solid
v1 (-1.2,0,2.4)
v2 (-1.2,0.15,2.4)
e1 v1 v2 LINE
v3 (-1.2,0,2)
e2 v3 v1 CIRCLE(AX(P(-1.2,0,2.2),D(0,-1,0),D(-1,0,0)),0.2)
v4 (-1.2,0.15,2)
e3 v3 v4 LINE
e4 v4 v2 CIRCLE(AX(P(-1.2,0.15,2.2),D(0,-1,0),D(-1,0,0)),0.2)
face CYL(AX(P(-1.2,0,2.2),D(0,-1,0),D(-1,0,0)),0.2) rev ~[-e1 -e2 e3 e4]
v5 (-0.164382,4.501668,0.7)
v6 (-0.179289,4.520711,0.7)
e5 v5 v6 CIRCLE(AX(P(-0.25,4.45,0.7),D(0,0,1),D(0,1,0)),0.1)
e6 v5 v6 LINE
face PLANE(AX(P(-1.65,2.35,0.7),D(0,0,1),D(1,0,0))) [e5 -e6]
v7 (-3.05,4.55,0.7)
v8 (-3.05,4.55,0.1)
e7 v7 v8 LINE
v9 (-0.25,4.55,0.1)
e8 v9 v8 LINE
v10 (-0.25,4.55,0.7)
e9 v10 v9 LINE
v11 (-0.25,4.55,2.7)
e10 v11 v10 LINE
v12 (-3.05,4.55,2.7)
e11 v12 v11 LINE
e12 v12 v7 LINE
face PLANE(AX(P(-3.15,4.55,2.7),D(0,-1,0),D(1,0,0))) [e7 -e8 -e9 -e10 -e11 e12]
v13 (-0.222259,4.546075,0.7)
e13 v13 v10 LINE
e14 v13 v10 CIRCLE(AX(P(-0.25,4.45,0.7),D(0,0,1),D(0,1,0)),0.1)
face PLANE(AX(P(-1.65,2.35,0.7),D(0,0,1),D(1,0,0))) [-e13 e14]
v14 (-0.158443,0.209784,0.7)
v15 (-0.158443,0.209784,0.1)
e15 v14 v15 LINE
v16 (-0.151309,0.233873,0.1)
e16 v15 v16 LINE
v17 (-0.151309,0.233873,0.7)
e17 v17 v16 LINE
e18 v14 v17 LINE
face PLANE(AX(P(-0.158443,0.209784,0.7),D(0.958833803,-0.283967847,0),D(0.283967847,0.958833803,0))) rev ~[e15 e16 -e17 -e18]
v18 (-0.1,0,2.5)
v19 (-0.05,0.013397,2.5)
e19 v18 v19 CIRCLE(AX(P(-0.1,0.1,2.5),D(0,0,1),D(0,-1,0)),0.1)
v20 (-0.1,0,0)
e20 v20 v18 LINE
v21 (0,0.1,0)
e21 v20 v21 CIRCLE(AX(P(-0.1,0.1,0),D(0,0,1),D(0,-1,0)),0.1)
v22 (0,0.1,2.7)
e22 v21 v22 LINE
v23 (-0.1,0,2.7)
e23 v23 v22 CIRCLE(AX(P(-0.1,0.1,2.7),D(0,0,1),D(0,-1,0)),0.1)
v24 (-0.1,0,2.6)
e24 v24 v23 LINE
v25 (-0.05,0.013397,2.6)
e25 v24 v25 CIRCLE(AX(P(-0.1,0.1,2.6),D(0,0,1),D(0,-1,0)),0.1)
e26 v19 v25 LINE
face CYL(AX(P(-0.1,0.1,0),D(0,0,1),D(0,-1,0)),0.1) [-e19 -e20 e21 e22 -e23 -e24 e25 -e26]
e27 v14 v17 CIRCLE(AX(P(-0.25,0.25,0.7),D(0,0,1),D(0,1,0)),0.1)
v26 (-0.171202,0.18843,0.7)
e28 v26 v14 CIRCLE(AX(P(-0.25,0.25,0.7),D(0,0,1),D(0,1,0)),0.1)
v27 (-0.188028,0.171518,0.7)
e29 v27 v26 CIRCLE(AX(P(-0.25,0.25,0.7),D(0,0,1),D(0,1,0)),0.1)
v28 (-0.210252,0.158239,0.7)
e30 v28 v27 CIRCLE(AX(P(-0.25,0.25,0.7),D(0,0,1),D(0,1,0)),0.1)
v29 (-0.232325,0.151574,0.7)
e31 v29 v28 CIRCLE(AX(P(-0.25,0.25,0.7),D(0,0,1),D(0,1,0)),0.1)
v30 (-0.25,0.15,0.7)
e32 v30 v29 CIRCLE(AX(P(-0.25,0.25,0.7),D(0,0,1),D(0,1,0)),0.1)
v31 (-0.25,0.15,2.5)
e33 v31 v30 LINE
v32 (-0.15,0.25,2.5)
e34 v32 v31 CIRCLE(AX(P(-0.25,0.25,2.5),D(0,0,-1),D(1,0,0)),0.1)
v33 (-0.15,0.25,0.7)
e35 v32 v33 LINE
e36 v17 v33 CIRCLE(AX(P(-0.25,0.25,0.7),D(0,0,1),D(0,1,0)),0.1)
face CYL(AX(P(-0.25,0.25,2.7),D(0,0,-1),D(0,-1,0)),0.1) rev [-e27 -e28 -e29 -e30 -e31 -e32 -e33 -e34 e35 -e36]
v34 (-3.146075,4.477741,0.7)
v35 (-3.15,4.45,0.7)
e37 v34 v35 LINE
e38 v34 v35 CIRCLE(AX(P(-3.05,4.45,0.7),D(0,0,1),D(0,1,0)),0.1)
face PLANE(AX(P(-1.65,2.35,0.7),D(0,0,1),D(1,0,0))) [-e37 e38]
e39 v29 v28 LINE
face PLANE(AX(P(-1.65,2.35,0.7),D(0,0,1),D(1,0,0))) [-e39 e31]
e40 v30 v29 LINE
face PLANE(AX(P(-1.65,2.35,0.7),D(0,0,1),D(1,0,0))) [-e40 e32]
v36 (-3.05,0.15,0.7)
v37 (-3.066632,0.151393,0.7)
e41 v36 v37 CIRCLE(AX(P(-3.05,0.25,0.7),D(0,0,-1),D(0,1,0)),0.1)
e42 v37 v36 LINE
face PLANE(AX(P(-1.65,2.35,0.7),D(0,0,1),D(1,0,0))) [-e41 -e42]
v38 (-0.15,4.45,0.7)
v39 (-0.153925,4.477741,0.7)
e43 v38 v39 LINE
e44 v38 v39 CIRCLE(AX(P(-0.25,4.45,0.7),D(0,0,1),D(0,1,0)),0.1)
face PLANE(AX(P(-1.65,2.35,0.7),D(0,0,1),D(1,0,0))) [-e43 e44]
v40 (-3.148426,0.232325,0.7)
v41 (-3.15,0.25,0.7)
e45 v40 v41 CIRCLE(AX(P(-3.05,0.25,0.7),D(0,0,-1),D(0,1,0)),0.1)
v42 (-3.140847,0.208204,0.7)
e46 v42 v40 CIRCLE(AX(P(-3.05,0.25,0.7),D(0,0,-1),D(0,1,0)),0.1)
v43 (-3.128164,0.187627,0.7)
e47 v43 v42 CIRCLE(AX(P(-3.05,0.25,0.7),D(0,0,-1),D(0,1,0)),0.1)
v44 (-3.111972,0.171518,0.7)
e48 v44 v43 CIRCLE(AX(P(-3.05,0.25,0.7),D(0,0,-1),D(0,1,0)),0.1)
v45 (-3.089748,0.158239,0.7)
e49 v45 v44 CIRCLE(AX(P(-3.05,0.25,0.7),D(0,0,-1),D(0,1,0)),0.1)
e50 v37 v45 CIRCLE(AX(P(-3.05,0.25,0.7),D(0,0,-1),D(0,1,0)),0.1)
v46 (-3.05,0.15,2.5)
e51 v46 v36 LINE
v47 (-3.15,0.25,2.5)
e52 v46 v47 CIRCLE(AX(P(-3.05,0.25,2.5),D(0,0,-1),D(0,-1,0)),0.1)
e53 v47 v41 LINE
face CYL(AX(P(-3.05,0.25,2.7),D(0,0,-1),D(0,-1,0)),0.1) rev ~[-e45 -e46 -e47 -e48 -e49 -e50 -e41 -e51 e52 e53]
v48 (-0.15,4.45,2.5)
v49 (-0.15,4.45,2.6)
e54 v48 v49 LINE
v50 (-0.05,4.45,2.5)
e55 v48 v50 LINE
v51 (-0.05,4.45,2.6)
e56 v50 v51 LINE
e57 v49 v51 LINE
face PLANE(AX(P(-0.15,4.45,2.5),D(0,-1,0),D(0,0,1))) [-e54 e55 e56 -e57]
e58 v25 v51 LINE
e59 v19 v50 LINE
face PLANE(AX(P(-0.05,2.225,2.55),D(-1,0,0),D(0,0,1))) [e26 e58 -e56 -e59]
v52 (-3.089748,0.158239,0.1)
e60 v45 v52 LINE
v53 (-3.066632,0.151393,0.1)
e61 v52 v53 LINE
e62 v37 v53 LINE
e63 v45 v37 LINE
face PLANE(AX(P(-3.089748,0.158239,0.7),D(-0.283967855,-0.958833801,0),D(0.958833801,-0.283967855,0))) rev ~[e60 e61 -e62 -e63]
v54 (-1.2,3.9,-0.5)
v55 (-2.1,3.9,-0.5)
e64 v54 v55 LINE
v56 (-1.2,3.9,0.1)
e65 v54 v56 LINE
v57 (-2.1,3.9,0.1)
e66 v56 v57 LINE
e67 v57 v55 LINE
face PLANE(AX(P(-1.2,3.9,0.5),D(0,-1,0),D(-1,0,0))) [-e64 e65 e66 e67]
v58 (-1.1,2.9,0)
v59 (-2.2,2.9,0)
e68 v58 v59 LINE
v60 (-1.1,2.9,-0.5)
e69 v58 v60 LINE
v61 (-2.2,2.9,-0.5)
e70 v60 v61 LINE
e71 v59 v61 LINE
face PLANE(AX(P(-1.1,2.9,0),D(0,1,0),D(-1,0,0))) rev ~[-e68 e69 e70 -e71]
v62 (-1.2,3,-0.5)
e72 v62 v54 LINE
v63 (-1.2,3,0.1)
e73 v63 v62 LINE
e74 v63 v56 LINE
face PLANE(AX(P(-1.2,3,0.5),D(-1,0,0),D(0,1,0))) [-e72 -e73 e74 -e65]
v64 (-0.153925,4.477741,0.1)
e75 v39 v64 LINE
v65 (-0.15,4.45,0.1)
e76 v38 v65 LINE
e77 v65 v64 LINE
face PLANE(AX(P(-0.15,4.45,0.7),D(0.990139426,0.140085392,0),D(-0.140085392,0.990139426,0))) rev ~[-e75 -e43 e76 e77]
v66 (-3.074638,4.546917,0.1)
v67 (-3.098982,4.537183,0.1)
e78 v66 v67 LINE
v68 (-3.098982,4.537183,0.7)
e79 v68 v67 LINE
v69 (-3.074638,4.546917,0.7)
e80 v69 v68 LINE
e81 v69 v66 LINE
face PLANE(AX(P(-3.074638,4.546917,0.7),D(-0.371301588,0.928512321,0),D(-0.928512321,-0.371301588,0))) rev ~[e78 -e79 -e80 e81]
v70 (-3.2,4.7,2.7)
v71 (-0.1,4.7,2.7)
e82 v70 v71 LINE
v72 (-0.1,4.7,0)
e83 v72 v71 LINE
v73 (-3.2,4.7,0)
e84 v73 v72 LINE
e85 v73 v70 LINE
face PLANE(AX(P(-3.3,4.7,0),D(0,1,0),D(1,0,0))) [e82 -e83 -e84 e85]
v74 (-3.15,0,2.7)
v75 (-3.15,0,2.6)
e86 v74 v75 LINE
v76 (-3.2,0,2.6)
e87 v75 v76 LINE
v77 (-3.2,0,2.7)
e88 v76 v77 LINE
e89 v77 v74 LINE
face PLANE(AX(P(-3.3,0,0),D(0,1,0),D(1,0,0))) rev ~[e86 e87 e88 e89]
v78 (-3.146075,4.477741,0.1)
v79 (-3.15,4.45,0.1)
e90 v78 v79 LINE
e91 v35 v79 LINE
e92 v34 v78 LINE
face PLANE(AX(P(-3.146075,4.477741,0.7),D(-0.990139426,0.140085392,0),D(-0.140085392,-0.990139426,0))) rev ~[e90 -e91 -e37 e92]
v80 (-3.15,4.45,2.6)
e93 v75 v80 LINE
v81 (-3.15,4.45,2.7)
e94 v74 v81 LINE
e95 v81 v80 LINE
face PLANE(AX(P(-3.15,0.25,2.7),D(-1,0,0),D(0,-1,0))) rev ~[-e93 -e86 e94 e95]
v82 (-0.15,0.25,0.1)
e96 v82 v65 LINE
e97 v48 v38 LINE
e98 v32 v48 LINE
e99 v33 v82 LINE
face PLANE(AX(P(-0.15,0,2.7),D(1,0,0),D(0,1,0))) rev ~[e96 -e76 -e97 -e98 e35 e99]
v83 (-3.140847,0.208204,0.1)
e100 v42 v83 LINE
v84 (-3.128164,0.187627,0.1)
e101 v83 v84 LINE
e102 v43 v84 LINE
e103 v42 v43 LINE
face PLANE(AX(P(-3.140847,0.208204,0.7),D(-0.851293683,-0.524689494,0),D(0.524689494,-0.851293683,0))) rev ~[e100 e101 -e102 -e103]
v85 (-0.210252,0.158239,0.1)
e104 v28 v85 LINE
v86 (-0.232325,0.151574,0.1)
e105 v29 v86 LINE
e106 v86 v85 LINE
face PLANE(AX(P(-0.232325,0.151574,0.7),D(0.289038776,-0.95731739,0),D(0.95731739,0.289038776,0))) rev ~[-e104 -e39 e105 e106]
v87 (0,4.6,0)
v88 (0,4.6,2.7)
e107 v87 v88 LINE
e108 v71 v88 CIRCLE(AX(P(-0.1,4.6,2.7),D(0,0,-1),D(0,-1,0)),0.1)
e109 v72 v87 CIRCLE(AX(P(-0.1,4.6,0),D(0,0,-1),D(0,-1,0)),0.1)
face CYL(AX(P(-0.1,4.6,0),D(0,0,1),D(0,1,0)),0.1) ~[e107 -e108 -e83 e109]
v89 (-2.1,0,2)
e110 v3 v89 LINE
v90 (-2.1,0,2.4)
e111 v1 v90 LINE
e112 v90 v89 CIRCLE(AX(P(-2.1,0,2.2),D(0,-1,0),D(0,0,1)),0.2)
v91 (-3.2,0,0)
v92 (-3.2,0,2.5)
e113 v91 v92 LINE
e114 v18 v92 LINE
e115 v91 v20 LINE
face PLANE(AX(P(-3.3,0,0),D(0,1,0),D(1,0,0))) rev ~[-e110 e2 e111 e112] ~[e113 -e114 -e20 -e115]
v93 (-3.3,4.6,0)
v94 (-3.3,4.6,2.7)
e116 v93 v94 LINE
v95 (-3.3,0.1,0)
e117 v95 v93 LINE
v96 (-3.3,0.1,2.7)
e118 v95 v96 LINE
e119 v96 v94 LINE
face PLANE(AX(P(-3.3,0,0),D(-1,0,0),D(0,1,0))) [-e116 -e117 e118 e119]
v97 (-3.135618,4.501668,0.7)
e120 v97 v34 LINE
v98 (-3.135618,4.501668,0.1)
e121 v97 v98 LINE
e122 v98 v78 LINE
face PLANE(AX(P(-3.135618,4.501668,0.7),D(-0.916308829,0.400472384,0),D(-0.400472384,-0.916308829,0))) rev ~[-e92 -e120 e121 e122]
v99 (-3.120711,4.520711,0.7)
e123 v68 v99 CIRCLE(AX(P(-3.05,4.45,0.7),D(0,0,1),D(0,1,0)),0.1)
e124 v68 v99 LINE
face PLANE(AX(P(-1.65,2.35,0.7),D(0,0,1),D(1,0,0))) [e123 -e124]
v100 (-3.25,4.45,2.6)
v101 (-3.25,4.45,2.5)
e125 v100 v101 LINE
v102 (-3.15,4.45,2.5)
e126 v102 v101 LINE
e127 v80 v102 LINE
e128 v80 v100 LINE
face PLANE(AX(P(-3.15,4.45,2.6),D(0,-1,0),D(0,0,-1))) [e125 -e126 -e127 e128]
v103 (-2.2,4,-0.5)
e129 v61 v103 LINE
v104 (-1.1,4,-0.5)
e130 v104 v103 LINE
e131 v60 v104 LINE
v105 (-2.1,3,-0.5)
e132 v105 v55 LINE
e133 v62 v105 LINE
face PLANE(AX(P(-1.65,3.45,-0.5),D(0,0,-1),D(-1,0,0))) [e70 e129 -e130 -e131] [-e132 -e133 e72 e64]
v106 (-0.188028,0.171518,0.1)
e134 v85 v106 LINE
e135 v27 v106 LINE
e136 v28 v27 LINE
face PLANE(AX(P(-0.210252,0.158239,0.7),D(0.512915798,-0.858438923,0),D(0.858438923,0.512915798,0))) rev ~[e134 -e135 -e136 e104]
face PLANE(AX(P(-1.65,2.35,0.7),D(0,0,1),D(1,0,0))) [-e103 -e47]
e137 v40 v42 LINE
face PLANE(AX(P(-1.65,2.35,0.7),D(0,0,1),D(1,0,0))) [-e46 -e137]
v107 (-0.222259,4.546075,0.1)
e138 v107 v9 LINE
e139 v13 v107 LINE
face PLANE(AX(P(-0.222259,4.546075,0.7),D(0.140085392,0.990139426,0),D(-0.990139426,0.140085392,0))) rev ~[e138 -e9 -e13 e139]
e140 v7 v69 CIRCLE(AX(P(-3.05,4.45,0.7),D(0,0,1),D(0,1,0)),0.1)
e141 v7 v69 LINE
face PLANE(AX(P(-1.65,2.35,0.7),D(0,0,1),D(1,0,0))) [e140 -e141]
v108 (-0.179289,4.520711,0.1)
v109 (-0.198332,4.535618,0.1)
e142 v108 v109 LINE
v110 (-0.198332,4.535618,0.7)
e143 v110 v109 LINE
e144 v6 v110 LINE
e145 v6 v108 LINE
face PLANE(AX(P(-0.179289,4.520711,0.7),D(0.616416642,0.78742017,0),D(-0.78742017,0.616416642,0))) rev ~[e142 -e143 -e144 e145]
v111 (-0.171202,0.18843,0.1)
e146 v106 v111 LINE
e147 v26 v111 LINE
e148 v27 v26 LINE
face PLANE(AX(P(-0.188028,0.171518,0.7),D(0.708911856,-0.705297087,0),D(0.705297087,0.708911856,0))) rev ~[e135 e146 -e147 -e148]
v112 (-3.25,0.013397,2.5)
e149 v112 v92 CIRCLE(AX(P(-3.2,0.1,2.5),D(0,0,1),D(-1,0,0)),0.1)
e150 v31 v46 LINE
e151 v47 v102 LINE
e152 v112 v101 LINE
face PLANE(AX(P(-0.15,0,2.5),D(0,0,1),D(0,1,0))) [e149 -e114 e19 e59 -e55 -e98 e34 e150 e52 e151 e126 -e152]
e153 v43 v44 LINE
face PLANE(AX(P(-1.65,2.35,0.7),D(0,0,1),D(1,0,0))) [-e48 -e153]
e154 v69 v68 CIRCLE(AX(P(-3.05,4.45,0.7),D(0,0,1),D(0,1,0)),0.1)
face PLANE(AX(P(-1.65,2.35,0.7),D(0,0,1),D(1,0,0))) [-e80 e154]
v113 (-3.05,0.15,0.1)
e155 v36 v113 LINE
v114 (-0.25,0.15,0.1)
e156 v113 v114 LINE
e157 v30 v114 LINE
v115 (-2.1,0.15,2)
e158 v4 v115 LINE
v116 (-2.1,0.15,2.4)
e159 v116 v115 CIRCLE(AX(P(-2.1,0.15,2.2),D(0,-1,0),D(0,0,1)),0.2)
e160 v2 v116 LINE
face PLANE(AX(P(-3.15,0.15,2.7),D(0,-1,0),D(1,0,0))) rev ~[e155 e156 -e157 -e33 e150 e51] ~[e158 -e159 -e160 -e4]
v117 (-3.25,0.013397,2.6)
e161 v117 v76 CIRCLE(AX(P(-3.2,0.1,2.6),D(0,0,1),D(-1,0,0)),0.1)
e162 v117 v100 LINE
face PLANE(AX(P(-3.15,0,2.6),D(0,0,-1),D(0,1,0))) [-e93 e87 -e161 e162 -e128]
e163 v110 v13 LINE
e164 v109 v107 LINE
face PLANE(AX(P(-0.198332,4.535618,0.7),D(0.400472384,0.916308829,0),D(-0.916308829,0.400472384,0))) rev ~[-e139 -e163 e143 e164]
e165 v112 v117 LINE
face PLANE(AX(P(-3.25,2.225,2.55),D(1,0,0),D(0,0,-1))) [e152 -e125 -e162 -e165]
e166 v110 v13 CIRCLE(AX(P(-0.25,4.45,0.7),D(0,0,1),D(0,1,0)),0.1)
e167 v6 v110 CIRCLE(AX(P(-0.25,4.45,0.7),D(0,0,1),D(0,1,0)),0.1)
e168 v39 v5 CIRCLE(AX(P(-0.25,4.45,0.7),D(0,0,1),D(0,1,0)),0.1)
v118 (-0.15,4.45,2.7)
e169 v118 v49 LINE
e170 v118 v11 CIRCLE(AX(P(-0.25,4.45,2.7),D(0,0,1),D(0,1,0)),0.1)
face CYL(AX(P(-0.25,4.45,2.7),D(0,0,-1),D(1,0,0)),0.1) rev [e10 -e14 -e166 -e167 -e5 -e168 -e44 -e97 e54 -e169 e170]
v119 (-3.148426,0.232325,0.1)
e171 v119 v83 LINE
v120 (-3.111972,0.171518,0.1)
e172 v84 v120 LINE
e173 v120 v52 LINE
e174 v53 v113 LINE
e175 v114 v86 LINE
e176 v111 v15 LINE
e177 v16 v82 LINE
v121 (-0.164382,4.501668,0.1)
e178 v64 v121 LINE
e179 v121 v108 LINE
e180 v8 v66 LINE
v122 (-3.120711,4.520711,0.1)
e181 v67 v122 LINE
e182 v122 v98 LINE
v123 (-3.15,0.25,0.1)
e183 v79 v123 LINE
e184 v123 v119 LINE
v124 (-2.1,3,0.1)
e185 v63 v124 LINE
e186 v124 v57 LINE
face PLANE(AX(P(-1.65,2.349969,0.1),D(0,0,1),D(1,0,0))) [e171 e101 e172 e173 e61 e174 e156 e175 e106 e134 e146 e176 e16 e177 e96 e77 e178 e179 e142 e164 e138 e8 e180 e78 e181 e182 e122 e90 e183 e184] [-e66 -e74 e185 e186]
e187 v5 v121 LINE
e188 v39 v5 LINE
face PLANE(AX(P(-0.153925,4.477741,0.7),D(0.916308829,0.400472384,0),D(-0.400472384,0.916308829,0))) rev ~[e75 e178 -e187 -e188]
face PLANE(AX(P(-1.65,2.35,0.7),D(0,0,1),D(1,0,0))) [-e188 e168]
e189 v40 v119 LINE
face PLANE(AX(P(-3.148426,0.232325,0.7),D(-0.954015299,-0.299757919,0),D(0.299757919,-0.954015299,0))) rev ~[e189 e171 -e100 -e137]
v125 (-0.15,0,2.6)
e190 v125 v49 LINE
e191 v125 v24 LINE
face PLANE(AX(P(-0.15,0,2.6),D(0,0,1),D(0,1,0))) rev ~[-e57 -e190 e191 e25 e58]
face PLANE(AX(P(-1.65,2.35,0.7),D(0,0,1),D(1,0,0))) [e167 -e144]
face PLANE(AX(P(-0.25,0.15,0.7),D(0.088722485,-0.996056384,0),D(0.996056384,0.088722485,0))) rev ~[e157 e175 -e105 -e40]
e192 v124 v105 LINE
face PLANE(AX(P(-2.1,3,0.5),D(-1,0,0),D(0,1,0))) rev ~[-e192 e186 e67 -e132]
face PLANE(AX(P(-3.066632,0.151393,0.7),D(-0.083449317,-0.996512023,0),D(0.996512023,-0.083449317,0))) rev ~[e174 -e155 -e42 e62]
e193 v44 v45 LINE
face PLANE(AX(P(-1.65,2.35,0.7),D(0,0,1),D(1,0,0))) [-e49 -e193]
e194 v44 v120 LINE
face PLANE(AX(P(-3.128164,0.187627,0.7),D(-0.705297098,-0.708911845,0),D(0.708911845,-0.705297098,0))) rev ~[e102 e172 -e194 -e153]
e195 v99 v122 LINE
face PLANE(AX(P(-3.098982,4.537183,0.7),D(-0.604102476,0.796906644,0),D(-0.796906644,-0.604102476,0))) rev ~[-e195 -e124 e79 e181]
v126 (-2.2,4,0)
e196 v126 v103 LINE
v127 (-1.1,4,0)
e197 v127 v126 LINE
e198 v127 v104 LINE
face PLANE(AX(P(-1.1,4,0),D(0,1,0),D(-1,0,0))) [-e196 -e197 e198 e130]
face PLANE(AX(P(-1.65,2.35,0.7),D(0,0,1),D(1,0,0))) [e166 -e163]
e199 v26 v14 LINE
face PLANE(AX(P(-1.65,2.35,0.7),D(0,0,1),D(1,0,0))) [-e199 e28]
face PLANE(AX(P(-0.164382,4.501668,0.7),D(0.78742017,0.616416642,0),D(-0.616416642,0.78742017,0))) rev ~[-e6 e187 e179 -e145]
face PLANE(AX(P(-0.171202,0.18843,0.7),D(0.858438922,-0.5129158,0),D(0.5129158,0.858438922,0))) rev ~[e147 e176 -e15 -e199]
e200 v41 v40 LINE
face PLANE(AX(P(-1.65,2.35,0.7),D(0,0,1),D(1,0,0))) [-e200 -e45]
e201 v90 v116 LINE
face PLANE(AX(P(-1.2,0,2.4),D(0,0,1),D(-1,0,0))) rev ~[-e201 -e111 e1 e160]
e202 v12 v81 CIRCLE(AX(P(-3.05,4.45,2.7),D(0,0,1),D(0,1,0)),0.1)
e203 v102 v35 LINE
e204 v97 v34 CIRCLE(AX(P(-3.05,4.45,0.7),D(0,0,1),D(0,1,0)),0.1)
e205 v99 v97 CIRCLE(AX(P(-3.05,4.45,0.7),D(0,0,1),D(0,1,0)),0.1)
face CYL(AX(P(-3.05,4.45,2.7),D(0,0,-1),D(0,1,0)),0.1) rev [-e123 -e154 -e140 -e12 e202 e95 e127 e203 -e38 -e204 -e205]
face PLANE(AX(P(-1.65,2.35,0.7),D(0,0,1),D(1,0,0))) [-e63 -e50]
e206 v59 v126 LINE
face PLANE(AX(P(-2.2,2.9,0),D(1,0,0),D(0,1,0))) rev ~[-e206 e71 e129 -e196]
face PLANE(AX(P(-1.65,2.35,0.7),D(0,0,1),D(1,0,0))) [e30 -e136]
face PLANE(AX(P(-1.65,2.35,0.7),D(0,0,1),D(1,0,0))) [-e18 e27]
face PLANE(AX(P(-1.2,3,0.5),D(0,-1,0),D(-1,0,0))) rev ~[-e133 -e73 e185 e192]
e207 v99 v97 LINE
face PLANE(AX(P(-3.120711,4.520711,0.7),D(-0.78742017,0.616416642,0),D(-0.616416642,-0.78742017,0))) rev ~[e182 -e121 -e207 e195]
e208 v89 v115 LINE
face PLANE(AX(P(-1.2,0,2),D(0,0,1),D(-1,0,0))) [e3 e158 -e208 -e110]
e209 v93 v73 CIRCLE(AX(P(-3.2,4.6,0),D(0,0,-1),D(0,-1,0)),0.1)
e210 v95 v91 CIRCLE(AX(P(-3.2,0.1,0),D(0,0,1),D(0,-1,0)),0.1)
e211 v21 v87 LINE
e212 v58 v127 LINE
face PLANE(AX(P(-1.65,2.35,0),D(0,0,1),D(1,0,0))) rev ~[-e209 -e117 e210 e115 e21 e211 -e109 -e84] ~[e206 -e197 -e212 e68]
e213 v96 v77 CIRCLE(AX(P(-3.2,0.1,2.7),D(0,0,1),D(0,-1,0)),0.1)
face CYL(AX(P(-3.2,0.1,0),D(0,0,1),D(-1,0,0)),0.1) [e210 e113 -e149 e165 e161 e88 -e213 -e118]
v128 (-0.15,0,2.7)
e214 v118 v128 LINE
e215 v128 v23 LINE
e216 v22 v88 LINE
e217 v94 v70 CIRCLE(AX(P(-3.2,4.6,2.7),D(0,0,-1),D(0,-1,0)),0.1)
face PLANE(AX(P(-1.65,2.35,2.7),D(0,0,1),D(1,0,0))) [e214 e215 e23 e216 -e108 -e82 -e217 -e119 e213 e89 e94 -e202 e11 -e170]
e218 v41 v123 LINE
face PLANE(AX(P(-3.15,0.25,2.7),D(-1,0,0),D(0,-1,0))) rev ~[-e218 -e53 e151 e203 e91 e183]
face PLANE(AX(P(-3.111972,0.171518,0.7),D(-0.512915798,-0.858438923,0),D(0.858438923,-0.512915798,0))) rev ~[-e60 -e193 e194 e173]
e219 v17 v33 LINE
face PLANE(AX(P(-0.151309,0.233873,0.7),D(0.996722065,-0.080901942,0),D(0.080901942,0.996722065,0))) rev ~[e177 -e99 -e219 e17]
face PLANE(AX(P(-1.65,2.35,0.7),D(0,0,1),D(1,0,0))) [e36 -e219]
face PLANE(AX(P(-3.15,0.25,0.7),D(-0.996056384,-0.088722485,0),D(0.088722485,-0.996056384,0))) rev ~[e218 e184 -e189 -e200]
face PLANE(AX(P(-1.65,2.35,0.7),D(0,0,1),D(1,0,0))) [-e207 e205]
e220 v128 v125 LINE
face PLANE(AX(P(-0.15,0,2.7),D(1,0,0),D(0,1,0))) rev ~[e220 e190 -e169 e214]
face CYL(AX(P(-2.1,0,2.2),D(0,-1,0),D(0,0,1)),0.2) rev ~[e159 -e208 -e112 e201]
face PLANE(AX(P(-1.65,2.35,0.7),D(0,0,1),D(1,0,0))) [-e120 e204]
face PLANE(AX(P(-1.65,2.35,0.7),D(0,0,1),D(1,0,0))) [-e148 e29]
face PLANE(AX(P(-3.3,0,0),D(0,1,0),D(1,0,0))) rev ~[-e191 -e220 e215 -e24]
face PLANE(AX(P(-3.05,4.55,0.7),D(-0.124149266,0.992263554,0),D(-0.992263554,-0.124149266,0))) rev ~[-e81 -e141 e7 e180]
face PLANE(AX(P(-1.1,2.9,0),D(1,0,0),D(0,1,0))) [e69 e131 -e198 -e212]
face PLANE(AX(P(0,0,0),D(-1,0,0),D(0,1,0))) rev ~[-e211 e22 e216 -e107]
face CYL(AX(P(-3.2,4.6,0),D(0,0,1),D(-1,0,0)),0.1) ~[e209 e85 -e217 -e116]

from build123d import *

# Parameters (mm, degrees)
ESQUISSE1_W              = 3.3
ESQUISSE1_H              = 4.7
BOSS_EXTRU_1_DEPTH       = 2.7
CONG_4_R                 = 0.1
CONG_5_R                 = 0.1
ESQUISSE2_W              = 3
ESQUISSE2_H              = 4.4
ENL_V_MAT_EXTRU_2_DEPTH  = 2
CONG_8_R                 = 0.1
ESQUISSE5_W              = 1.1
ESQUISSE5_H              = 1.1
ESQUISSE5_W_2            = 0.9
ESQUISSE5_H_2            = 0.9
BOSS_EXTRU_3_DEPTH       = 0.5
ESQUISSE6_W              = 0.9
ESQUISSE6_H              = 0.9
ENL_V_MAT_EXTRU_4_DEPTH  = 0.5
ENL_V_MAT_EXTRU_5_DEPTH  = 0.2
ESQUISSE8_W              = 0.1
ESQUISSE8_H              = 4.45
ENL_V_MAT_EXTRU_6_DEPTH  = 0.1
ESQUISSE10_W             = 0.1
ESQUISSE10_H             = 4.45
ENL_V_MAT_EXTRU_7_DEPTH  = 0.1
ESQUISSE11_W             = 0.9
ESQUISSE11_H             = 0.9
ENL_V_MAT_EXTRU_8_DEPTH  = 1
ESQUISSE12_R             = 0.2
ESQUISSE12_W             = 0.9
ESQUISSE12_H             = 0.4
ENL_V_MAT_EXTRU_9_DEPTH  = 1.1
ENL_V_MAT_EXTRU_11_DEPTH = 0.6


with BuildPart() as part:
    # Esquisse1 → Boss.-Extru.1 (new body)
    with BuildSketch(Plane.XY):
        with Locations((-1.65, 2.35)):
            Rectangle(ESQUISSE1_W, ESQUISSE1_H)
    extrude(amount=BOSS_EXTRU_1_DEPTH)

    # Congé4
    cong_4_edges = [part.edges().sort_by_distance(p)[0] for p in [
        (-3.3, 4.7, 1.35),
    ]]
    fillet(cong_4_edges, radius=CONG_4_R)

    # Congé5
    cong_5_edges = [part.edges().sort_by_distance(p)[0] for p in [
        (0, 0, 1.35),
        (-3.3, 0, 1.35),
        (0, 4.7, 1.35),
    ]]
    fillet(cong_5_edges, radius=CONG_5_R)

    # Esquisse2 → Enlèv. mat.-Extru.2 (cut)
    with BuildSketch(Plane.XY.offset(2.7)):
        with Locations((-1.65, 2.35)):
            Rectangle(ESQUISSE2_W, ESQUISSE2_H)
    extrude(amount=-ENL_V_MAT_EXTRU_2_DEPTH, mode=Mode.SUBTRACT)

    # Congé8
    cong_8_edges = [part.edges().sort_by_distance(p)[0] for p in [
        (-0.15, 0.15, 1.7),
        (-3.15, 0.15, 1.7),
        (-3.15, 4.55, 1.7),
        (-0.15, 4.55, 1.7),
    ]]
    fillet(cong_8_edges, radius=CONG_8_R)

    # Esquisse5 → Boss.-Extru.3 (add)
    with BuildSketch(Plane(origin=(0, 0, 0), x_dir=(-1, 0, 0), z_dir=(0, 0, -1))):
        with Locations((1.65, 3.45)):
            Rectangle(ESQUISSE5_W, ESQUISSE5_H)
        with Locations((1.65, 3.45)):
            Rectangle(ESQUISSE5_W_2, ESQUISSE5_H_2, mode=Mode.SUBTRACT)
    extrude(amount=BOSS_EXTRU_3_DEPTH)

    # Esquisse6 → Enlèv. mat.-Extru.4 (cut)
    with BuildSketch(Plane(origin=(0, 0, 0), x_dir=(-1, 0, 0), z_dir=(0, 0, -1))):
        with Locations((1.65, 3.45)):
            Rectangle(ESQUISSE6_W, ESQUISSE6_H)
    extrude(amount=-ENL_V_MAT_EXTRU_4_DEPTH, mode=Mode.SUBTRACT)

    # Esquisse7 → Enlèv. mat.-Extru.5 (cut)
    with BuildSketch(Plane.XY.offset(2.7)):
        Polygon((-3.15, 0.25), (-3.15, 0), (-0.15, 0), (-0.15, 0.25), (-0.153597253, 0.223419736), (-0.163814969, 0.199283726), (-0.179289322, 0.179289322), (-0.199283726, 0.163814969), (-0.223419736, 0.153597253), (-0.25, 0.15), (-3.05, 0.15), (-3.075882726, 0.153407637), (-3.101785208, 0.164452982), (-3.120710678, 0.179289322), (-3.136185031, 0.199283726), (-3.146402747, 0.223419736), align=None)
    extrude(amount=-ENL_V_MAT_EXTRU_5_DEPTH, mode=Mode.SUBTRACT)

    # Esquisse8 → Enlèv. mat.-Extru.6 (cut)
    with BuildSketch(Plane(origin=(-3.15, 0, 0), x_dir=(0, 0, -1), z_dir=(1, 0, 0))):
        with Locations((-2.55, 2.225)):
            Rectangle(ESQUISSE8_W, ESQUISSE8_H)
    extrude(amount=-ENL_V_MAT_EXTRU_6_DEPTH, mode=Mode.SUBTRACT)

    # Esquisse10 → Enlèv. mat.-Extru.7 (cut)
    with BuildSketch(Plane.ZY.offset(0.15)):
        with Locations((2.55, 2.225)):
            Rectangle(ESQUISSE10_W, ESQUISSE10_H)
    extrude(amount=-ENL_V_MAT_EXTRU_7_DEPTH, mode=Mode.SUBTRACT)

    # Esquisse11 → Enlèv. mat.-Extru.8 (cut)
    with BuildSketch(Plane(origin=(0, 0, 0.5), x_dir=(-1, 0, 0), z_dir=(0, 0, -1))):
        with Locations((1.65, 3.45)):
            Rectangle(ESQUISSE11_W, ESQUISSE11_H)
    extrude(amount=-ENL_V_MAT_EXTRU_8_DEPTH, mode=Mode.SUBTRACT)

    # Esquisse12 → Enlèv. mat.-Extru.9 (cut)
    with BuildSketch(Plane(origin=(0, 0, 0), x_dir=(-1, 0, 0), z_dir=(0, -1, 0))):
        with Locations((2.1, -2.2)):
            Circle(ESQUISSE12_R)
        with Locations((1.2, -2.2)):
            Circle(ESQUISSE12_R)
        with Locations((1.65, -2.2)):
            Rectangle(ESQUISSE12_W, ESQUISSE12_H)
    extrude(amount=-ENL_V_MAT_EXTRU_9_DEPTH, mode=Mode.SUBTRACT)

    # Esquisse15 → Enlèv. mat.-Extru.11 (cut)
    with BuildSketch(Plane.XY.offset(0.7)):
        Polygon((-3.05, 4.55), (-3.074637758, 4.546917392), (-3.098981719, 4.537182517), (-3.120710678, 4.520710678), (-3.135617823, 4.50166806), (-3.146075217, 4.477740811), (-3.15, 4.45), (-3.15, 0.25), (-3.148425664, 0.232325479), (-3.14084652, 0.20820395), (-3.12816425, 0.18762733), (-3.111972277, 0.17151792), (-3.089747782, 0.158238822), (-3.066631653, 0.151392758), (-3.05, 0.15), (-0.25, 0.15), (-0.232325479, 0.151574336), (-0.210252218, 0.158238822), (-0.188027723, 0.17151792), (-0.171202141, 0.188429736), (-0.158443213, 0.209783651), (-0.151309025, 0.233872648), (-0.15, 0.25), (-0.15, 4.45), (-0.153924783, 4.477740811), (-0.164382177, 4.50166806), (-0.179289322, 4.520710678), (-0.19833194, 4.535617823), (-0.222259189, 4.546075217), (-0.25, 4.55), align=None)
    extrude(amount=-ENL_V_MAT_EXTRU_11_DEPTH, mode=Mode.SUBTRACT)


solid = part.part
